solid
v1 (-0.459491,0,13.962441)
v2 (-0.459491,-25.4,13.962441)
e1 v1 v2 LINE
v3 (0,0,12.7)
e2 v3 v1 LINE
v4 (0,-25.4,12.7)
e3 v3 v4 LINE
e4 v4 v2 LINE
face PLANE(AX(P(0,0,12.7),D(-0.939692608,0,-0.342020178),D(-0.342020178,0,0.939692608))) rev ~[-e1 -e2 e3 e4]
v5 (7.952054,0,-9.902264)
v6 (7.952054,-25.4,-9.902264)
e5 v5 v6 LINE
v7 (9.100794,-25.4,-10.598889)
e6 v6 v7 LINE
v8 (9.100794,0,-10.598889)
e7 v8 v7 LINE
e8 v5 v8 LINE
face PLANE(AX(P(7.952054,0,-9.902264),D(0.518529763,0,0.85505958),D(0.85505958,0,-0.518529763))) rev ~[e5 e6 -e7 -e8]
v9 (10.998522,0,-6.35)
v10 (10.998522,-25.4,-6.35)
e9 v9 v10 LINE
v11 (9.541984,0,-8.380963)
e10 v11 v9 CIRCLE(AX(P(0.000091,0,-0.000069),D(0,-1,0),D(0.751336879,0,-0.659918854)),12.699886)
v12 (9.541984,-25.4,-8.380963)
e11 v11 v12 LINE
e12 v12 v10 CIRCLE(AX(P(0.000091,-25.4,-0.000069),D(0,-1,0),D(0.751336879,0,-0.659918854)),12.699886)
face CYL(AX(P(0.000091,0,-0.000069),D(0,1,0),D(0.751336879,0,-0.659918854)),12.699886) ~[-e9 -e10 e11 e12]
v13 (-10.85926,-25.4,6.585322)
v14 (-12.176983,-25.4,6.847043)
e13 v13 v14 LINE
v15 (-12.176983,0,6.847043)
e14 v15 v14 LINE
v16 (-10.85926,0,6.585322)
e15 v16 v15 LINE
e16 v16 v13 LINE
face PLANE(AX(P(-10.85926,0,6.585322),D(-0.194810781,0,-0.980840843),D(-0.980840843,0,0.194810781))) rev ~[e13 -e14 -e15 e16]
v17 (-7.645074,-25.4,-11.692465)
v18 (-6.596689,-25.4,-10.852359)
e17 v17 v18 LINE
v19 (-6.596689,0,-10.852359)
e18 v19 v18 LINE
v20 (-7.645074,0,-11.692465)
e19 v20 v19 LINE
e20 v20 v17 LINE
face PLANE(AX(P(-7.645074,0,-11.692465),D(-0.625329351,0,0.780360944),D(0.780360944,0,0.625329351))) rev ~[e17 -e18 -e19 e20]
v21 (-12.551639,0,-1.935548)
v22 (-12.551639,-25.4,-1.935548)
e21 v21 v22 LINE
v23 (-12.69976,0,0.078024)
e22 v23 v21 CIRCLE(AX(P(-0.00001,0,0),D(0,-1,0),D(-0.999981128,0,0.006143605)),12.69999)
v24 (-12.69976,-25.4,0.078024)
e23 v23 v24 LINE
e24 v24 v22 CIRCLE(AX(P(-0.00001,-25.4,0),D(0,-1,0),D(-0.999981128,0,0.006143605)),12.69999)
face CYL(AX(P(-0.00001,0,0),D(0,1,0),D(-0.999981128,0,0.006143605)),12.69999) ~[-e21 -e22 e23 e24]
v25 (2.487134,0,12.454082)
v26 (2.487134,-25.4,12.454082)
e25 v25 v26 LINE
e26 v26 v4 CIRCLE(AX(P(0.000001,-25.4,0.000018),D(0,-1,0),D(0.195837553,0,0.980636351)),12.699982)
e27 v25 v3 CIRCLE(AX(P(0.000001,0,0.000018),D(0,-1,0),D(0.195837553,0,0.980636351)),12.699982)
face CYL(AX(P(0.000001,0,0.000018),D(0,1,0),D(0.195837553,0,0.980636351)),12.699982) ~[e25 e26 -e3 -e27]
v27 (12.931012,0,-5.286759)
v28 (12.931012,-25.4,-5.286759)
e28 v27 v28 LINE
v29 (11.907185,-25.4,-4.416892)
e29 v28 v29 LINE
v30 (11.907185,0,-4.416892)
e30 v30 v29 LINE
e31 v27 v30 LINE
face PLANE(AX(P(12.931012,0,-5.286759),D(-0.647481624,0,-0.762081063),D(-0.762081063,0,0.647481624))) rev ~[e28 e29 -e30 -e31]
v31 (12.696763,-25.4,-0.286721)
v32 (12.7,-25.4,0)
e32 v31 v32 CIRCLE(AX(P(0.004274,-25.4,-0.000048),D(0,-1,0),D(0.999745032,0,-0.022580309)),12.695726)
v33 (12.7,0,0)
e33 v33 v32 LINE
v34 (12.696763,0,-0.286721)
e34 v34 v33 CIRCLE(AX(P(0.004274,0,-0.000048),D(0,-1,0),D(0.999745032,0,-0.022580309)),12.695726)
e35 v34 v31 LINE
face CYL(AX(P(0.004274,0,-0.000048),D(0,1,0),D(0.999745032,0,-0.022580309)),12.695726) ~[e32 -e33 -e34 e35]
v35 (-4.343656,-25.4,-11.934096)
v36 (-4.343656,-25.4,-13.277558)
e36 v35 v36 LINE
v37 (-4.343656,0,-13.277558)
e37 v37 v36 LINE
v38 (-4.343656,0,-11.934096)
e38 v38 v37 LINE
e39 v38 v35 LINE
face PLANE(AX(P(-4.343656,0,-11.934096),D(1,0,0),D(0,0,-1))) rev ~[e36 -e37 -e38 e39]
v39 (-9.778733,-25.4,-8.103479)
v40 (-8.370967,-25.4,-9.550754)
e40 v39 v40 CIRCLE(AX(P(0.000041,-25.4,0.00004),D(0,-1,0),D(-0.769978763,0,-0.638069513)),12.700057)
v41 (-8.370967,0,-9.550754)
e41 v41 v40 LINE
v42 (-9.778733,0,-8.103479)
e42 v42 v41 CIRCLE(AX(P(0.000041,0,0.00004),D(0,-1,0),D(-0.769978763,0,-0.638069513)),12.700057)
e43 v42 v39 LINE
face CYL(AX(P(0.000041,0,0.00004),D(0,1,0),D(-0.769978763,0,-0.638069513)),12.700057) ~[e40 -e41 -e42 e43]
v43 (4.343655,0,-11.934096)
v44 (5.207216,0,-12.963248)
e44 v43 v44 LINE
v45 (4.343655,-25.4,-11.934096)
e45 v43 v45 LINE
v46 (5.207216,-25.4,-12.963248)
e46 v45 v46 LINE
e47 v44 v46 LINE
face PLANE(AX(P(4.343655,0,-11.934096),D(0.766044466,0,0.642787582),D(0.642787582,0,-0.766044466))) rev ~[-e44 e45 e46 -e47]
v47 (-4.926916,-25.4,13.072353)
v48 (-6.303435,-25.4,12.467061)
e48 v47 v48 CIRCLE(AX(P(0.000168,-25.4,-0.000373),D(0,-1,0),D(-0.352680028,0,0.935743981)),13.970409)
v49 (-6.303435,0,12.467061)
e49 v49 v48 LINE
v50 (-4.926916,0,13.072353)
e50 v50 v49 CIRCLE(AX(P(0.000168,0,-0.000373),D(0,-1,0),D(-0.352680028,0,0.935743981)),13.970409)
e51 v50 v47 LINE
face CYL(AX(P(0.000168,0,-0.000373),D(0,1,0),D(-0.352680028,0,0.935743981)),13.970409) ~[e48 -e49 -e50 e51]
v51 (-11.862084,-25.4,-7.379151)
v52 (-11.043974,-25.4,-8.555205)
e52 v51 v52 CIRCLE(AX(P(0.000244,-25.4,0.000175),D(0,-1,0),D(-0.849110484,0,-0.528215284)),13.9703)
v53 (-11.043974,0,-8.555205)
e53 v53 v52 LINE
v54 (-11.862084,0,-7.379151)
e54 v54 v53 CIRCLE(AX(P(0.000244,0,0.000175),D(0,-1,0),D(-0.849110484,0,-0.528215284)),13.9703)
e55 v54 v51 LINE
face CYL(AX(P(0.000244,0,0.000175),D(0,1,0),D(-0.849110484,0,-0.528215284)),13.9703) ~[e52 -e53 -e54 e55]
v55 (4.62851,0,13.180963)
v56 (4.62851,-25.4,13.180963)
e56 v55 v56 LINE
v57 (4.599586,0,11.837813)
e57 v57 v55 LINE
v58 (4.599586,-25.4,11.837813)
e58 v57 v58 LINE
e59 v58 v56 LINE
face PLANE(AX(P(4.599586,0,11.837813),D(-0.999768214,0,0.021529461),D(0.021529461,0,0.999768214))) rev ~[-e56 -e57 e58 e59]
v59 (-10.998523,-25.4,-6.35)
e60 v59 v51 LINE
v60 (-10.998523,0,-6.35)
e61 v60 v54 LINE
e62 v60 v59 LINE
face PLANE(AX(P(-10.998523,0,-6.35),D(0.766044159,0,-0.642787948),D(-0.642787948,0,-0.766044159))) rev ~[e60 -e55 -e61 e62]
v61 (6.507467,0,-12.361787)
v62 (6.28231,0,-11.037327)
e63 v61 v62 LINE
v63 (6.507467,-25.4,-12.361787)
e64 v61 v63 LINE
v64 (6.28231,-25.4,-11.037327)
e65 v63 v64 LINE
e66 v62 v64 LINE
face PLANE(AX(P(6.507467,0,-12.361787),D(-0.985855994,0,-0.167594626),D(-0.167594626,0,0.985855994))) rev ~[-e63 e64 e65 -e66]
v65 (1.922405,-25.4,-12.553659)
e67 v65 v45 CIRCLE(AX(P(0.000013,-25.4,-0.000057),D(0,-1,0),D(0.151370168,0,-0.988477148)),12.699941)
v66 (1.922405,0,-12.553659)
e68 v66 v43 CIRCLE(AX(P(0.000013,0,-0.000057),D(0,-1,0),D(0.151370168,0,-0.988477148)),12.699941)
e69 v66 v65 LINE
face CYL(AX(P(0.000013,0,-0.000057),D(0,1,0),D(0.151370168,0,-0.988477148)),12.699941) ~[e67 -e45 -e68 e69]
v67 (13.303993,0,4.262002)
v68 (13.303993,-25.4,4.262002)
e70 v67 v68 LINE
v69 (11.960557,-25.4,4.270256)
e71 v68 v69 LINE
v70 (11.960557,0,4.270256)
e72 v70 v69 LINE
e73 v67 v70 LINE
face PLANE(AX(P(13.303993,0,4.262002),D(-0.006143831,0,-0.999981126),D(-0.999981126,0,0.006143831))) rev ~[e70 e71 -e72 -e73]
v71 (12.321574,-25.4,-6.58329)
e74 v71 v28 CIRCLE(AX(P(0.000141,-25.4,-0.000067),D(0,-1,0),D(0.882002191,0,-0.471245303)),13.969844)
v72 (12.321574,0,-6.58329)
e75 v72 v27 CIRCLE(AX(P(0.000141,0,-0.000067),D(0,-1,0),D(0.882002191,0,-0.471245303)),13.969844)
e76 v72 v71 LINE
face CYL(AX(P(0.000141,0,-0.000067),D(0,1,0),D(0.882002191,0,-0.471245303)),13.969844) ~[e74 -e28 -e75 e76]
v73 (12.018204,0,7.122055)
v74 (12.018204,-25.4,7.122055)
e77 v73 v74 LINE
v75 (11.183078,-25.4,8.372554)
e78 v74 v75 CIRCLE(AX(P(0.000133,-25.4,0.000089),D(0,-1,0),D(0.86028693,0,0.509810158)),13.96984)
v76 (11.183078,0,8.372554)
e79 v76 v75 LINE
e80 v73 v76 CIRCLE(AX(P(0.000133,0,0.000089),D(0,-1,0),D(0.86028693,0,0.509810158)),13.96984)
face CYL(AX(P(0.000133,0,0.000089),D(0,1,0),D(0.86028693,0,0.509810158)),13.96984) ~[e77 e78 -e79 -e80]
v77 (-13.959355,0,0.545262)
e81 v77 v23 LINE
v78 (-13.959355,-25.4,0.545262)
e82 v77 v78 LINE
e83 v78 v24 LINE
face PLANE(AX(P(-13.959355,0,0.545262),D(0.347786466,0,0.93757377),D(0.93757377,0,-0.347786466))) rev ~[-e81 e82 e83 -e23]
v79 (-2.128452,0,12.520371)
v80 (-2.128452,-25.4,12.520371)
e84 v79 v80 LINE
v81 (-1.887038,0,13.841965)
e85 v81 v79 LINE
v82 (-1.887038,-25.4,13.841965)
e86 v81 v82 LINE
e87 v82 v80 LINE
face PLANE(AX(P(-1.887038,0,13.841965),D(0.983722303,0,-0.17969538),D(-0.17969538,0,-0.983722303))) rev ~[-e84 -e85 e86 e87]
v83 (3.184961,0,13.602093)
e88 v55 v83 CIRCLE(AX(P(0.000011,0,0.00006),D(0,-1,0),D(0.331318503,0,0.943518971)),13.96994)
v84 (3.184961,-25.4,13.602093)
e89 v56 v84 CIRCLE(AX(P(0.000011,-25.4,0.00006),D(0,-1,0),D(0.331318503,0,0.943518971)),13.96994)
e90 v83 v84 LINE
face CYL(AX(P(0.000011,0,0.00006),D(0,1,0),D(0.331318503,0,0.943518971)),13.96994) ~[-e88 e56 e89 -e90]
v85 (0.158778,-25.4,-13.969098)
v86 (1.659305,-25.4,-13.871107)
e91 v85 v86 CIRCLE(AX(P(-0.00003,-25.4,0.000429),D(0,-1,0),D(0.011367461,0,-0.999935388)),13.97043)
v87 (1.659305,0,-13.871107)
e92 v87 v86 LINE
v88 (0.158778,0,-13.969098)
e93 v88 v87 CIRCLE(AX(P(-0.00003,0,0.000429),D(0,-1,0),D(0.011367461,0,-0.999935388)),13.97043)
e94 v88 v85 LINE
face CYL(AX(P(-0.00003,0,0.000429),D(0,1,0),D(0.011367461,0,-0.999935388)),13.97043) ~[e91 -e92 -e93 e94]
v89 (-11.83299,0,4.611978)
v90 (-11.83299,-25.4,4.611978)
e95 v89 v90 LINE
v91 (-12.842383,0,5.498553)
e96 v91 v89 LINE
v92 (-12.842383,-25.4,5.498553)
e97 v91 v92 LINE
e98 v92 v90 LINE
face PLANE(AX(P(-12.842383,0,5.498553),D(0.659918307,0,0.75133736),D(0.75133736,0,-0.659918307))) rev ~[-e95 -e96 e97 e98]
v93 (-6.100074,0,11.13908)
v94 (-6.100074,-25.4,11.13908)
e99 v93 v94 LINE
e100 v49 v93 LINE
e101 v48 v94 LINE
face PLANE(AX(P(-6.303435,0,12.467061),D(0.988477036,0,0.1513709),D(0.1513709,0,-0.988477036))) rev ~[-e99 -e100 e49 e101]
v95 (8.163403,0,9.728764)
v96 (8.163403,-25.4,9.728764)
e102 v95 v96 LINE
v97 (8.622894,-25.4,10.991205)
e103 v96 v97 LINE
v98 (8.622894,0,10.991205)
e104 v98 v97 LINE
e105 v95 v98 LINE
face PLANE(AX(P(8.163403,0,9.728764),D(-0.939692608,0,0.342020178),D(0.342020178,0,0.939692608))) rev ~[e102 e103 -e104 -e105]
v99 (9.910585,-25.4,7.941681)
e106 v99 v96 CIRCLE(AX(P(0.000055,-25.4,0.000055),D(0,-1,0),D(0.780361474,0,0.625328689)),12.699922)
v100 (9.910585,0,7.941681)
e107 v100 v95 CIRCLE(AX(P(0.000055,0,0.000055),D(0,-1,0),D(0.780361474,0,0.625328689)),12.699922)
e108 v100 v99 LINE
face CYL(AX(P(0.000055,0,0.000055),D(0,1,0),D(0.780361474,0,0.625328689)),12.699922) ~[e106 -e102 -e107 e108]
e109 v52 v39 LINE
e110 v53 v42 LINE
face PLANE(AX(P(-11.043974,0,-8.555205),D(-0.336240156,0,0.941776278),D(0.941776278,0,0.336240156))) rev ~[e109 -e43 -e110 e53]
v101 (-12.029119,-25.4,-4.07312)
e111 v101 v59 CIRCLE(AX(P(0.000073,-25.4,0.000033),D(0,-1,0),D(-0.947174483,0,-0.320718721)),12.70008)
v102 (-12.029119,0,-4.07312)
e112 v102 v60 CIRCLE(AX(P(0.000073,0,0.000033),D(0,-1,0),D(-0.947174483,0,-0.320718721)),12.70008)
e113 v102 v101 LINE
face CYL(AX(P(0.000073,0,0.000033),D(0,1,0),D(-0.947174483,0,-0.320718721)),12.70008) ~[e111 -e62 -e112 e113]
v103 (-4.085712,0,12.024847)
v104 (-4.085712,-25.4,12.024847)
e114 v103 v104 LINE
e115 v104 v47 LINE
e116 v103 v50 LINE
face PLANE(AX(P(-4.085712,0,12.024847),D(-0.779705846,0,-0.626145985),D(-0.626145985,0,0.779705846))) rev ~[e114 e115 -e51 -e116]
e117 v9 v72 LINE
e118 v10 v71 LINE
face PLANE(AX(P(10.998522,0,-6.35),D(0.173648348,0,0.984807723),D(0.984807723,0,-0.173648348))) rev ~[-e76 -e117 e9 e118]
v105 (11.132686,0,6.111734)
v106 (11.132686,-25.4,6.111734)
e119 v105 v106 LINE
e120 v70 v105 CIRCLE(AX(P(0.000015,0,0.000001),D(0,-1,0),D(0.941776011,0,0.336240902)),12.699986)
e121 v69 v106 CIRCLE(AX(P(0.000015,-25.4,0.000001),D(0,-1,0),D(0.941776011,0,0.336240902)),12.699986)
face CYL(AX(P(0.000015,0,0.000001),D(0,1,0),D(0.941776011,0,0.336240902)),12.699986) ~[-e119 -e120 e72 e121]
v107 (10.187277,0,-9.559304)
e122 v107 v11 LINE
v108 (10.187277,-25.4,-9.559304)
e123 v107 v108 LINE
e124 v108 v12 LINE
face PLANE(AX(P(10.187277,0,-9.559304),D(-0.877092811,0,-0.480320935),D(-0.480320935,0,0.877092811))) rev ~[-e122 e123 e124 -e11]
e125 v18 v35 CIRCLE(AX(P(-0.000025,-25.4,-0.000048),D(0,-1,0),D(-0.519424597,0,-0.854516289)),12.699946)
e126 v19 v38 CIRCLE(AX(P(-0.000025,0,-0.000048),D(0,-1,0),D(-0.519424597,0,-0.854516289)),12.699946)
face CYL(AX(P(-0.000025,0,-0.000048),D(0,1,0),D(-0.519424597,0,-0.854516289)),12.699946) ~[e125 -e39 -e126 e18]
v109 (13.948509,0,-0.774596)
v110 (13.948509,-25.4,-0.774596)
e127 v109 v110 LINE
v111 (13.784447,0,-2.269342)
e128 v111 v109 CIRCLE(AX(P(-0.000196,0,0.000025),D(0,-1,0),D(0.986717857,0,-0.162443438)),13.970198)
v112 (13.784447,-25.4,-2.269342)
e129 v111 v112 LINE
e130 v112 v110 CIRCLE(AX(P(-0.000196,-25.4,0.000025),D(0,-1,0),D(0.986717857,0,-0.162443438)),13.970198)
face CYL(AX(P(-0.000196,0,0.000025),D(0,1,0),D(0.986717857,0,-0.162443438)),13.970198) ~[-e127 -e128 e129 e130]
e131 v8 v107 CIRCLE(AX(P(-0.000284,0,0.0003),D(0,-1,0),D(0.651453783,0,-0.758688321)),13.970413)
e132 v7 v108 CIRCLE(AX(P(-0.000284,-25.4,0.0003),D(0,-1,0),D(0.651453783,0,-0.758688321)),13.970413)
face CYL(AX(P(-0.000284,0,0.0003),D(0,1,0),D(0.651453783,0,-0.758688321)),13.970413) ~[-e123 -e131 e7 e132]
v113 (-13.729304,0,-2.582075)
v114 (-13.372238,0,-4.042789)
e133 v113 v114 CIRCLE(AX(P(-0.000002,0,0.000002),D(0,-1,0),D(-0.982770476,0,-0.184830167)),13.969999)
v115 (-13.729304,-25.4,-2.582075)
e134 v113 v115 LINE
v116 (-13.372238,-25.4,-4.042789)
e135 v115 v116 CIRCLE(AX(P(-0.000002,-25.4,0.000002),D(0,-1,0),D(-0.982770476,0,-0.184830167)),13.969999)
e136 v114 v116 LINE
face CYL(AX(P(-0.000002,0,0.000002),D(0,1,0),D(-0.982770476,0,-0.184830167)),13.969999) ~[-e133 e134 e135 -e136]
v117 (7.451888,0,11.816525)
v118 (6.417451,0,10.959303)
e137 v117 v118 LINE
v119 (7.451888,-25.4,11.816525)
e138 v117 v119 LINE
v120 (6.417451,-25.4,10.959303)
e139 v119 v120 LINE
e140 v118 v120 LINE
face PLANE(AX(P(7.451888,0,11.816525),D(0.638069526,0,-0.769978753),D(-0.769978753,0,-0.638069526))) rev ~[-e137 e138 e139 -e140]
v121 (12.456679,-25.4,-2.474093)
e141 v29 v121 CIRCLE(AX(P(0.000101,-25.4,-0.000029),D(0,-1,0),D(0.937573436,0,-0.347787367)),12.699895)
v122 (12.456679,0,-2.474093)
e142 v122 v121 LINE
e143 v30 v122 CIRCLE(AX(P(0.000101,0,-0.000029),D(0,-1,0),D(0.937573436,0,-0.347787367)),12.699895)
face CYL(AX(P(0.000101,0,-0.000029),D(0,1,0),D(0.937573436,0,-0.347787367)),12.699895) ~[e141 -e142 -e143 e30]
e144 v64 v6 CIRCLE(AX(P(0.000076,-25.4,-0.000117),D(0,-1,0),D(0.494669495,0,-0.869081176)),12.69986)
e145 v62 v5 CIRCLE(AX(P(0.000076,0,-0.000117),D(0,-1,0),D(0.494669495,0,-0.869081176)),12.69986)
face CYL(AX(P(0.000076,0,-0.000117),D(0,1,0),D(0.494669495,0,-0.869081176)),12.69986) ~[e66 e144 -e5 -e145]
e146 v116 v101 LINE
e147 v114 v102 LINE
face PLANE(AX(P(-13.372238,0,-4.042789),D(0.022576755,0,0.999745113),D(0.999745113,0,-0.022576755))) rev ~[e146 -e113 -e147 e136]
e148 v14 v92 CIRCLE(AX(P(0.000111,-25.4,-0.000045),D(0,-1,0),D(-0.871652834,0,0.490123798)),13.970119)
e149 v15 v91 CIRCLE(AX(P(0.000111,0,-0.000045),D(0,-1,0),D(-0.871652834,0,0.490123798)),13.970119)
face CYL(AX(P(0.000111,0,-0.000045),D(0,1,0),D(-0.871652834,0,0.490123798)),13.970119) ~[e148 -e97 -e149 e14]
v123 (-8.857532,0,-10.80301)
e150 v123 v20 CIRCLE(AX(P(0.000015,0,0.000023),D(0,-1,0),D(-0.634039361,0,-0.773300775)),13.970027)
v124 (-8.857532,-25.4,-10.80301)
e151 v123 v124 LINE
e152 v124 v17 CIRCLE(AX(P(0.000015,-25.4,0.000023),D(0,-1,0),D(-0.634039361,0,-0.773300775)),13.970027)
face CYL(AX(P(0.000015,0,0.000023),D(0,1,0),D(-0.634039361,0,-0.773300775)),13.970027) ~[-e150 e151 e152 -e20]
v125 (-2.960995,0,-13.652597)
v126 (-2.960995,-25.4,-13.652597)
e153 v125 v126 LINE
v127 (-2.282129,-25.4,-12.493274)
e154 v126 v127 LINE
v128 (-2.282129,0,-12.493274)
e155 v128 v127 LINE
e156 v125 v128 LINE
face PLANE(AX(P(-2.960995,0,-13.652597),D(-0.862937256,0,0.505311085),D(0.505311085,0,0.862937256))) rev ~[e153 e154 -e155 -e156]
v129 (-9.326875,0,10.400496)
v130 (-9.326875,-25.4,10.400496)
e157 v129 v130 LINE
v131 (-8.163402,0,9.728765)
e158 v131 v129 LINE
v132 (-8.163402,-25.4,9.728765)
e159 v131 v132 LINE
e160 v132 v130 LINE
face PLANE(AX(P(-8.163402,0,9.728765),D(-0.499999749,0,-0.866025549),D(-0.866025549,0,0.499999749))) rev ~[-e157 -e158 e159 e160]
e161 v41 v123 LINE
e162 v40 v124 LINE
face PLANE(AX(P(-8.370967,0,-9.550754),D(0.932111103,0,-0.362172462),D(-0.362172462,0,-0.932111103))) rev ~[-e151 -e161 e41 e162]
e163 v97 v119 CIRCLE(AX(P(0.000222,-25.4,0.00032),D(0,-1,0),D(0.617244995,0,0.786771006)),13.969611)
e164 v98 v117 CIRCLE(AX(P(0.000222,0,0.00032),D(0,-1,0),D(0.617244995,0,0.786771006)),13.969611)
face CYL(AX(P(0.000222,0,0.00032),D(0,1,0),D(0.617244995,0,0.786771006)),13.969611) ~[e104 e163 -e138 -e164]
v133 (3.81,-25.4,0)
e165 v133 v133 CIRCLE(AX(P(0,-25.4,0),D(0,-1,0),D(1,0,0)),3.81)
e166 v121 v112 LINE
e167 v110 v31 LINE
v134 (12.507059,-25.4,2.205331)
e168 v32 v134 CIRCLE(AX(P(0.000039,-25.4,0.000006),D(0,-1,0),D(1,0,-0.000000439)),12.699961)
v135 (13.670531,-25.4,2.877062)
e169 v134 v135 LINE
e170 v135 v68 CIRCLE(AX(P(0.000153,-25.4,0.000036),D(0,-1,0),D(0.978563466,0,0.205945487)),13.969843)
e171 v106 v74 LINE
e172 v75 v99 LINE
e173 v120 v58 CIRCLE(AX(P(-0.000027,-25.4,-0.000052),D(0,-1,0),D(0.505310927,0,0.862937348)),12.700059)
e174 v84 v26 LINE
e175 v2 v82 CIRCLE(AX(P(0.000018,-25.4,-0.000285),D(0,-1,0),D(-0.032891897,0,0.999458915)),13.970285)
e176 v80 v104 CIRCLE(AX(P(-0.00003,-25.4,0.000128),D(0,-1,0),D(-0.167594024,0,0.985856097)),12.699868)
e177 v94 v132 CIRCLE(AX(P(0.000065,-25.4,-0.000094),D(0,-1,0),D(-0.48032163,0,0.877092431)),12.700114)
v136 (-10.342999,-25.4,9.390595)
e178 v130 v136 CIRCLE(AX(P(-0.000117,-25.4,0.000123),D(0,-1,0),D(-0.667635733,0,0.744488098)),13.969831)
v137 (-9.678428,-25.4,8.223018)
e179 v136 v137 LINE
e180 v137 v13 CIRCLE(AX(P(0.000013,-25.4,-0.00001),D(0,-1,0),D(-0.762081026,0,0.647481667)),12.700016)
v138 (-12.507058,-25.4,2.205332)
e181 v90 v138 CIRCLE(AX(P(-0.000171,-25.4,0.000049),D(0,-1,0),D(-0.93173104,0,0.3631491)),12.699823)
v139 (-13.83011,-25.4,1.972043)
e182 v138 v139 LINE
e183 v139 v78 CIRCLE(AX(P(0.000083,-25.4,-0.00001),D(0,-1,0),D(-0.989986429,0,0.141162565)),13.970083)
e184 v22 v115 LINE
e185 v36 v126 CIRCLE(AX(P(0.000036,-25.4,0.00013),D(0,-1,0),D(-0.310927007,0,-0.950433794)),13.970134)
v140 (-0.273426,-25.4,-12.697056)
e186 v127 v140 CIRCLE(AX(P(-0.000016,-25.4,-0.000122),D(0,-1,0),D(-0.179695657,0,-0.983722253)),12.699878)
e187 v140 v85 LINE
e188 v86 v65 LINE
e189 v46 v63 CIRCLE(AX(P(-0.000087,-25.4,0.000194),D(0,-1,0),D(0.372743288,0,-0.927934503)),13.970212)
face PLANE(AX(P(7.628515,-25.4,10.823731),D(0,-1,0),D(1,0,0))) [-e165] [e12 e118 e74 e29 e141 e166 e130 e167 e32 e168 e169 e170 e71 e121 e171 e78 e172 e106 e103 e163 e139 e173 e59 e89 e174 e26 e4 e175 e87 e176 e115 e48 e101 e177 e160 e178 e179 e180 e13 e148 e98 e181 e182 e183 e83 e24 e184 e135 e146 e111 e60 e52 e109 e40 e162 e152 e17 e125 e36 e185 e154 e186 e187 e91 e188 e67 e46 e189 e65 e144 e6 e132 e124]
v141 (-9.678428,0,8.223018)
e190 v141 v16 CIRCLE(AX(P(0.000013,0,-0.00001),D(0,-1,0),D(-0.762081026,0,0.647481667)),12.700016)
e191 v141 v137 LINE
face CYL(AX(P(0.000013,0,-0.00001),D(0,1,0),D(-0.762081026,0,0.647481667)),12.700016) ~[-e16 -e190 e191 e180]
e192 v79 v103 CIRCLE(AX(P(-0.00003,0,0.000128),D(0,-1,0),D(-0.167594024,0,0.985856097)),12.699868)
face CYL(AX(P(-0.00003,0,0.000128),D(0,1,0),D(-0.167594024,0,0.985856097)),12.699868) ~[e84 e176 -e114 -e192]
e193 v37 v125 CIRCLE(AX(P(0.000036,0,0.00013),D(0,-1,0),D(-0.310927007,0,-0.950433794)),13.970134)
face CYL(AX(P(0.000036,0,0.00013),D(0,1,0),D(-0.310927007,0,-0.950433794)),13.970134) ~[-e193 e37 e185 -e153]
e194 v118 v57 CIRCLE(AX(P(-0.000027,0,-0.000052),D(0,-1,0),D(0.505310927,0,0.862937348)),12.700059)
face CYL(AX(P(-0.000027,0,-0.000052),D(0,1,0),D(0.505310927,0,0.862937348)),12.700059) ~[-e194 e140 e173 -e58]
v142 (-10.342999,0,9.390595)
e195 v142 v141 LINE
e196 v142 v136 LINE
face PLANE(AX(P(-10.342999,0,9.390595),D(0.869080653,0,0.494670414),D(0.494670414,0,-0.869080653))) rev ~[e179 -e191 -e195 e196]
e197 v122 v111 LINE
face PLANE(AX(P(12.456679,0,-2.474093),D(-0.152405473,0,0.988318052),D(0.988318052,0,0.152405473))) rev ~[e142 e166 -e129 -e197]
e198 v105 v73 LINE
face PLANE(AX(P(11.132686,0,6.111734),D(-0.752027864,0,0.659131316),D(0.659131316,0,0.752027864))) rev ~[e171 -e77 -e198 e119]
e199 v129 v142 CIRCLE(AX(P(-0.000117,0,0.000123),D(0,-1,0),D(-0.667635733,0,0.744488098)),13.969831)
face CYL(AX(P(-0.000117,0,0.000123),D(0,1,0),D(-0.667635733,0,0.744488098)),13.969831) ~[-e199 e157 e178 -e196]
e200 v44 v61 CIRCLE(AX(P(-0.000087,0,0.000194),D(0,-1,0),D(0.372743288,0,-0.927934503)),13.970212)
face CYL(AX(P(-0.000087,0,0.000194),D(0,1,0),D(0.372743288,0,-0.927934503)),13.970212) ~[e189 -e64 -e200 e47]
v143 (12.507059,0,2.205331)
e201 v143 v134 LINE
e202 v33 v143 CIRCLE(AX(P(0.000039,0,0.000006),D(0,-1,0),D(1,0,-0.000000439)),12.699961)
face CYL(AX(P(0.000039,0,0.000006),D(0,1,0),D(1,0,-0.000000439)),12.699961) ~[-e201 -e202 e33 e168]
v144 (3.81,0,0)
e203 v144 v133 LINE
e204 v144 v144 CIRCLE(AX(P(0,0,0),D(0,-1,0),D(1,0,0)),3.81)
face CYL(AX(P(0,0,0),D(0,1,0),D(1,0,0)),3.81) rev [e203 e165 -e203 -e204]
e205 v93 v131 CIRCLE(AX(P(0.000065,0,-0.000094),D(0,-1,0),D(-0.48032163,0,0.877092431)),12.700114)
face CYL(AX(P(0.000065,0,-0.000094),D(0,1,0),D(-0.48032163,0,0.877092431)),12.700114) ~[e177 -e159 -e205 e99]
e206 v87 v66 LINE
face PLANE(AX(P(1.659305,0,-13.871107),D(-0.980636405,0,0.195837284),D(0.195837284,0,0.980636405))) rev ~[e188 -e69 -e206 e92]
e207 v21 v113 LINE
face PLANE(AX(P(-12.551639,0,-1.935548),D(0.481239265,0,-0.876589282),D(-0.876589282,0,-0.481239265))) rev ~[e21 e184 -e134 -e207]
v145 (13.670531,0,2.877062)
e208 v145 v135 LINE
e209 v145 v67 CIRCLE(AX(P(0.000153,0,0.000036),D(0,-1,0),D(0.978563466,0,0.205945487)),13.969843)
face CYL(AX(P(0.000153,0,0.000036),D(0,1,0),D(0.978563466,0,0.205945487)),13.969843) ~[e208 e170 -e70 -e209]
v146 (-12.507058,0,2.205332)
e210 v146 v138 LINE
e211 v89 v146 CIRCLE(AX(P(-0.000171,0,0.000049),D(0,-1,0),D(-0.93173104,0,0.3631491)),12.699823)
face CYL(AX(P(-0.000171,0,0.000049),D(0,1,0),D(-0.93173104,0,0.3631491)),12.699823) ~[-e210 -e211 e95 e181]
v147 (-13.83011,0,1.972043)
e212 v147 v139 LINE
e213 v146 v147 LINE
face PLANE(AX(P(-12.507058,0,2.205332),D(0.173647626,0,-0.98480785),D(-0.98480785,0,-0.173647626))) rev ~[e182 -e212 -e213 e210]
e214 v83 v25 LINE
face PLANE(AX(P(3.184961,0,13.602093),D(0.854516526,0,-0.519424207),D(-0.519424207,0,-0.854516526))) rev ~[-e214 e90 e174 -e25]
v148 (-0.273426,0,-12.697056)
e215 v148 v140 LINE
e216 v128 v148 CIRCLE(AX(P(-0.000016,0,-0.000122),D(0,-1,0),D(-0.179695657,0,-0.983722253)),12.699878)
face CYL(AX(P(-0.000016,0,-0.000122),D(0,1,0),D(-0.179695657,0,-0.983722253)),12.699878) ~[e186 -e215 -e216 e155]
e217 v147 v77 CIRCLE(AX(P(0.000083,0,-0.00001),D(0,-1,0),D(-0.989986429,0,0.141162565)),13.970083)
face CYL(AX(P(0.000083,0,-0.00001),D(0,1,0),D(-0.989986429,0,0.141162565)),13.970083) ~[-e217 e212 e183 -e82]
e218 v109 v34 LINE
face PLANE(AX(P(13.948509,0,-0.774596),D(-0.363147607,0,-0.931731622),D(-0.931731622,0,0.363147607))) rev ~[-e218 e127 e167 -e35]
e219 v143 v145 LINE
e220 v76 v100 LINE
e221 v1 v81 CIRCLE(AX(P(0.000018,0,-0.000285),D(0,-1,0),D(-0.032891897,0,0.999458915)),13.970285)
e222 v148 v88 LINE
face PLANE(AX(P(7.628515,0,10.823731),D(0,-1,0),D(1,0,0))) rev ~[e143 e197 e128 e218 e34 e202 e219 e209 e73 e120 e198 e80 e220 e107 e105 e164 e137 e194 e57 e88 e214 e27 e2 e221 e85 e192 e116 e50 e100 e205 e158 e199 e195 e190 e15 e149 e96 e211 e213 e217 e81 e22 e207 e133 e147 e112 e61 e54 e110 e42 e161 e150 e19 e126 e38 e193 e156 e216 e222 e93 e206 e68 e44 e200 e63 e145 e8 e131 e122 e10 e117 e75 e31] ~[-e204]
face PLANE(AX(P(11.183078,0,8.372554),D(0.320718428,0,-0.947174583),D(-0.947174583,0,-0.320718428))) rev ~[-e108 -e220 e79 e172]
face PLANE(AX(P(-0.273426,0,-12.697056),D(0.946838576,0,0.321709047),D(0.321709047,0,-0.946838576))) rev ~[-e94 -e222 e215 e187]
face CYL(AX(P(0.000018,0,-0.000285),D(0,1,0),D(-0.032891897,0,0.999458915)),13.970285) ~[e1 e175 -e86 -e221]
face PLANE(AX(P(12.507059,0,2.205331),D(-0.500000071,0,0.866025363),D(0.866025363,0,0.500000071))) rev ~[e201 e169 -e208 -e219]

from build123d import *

# Parameters (mm, degrees)
F0_R     = 3.81
F1_DEPTH = 25.4


with BuildPart() as f1:
    # F0 (on Front) → F1 (new body)
    with BuildSketch(Plane.XZ):
        with BuildLine():
            Line((8.163403, 9.728764), (8.622894, 10.991205))
            ThreePointArc((8.622894, 10.991205), (8.047978, 11.418886), (7.451888, 11.816525))
            Line((7.451888, 11.816525), (6.417451, 10.959303))
            ThreePointArc((6.417451, 10.959303), (7.316343, 10.380805), (8.163403, 9.728764))
        make_face()
        with BuildLine():
            ThreePointArc((9.910585, 7.941681), (9.081062, 8.878306), (8.163403, 9.728764))
            ThreePointArc((8.163403, 9.728764), (7.316343, 10.380805), (6.417451, 10.959303))
            ThreePointArc((6.417451, 10.959303), (5.526004, 11.43474), (4.599586, 11.837813))
            ThreePointArc((4.599586, 11.837813), (3.556733, 12.191786), (2.487134, 12.454082))
            ThreePointArc((2.487134, 12.454082), (1.249631, 12.638371), (0, 12.7))
            ThreePointArc((0, 12.7), (-1.068009, 12.655013), (-2.128452, 12.520371))
            ThreePointArc((-2.128452, 12.520371), (-3.116945, 12.311566), (-4.085712, 12.024847))
            ThreePointArc((-4.085712, 12.024847), (-5.112114, 11.625674), (-6.100074, 11.13908))
            ThreePointArc((-6.100074, 11.13908), (-7.166515, 10.484801), (-8.163402, 9.728765))
            ThreePointArc((-8.163402, 9.728765), (-8.952628, 9.0078), (-9.678428, 8.223018))
            ThreePointArc((-9.678428, 8.223018), (-10.30144, 7.427673), (-10.85926, 6.585322))
            ThreePointArc((-10.85926, 6.585322), (-11.388945, 5.619779), (-11.83299, 4.611978))
            ThreePointArc((-11.83299, 4.611978), (-12.22937, 3.425277), (-12.507058, 2.205332))
            ThreePointArc((-12.507058, 2.205332), (-12.648213, 1.145737), (-12.69976, 0.078024))
            ThreePointArc((-12.69976, 0.078024), (-12.665777, -0.93171), (-12.551639, -1.935548))
            ThreePointArc((-12.551639, -1.935548), (-12.336763, -3.015672), (-12.029119, -4.07312))
            ThreePointArc((-12.029119, -4.07312), (-11.569966, -5.236973), (-10.998523, -6.35))
            ThreePointArc((-10.998523, -6.35), (-10.425558, -7.252429), (-9.778733, -8.103479))
            ThreePointArc((-9.778733, -8.103479), (-9.103656, -8.855136), (-8.370967, -9.550754))
            ThreePointArc((-8.370967, -9.550754), (-7.512072, -10.240057), (-6.596689, -10.852359))
            ThreePointArc((-6.596689, -10.852359), (-5.496847, -11.448785), (-4.343656, -11.934096))
            ThreePointArc((-4.343656, -11.934096), (-3.324669, -12.257103), (-2.282129, -12.493274))
            ThreePointArc((-2.282129, -12.493274), (-1.281833, -12.635146), (-0.273426, -12.697056))
            ThreePointArc((-0.273426, -12.697056), (0.827601, -12.673006), (1.922405, -12.553659))
            ThreePointArc((1.922405, -12.553659), (3.148308, -12.303583), (4.343655, -11.934096))
            ThreePointArc((4.343655, -11.934096), (5.331869, -11.526542), (6.28231, -11.037327))
            ThreePointArc((6.28231, -11.037327), (7.139774, -10.50303), (7.952054, -9.902264))
            ThreePointArc((7.952054, -9.902264), (8.78003, -9.176114), (9.541984, -8.380963))
            ThreePointArc((9.541984, -8.380963), (10.320335, -7.401398), (10.998522, -6.35))
            ThreePointArc((10.998522, -6.35), (11.493567, -5.402584), (11.907185, -4.416892))
            ThreePointArc((11.907185, -4.416892), (12.220601, -3.45643), (12.456679, -2.474093))
            ThreePointArc((12.456679, -2.474093), (12.624186, -1.385616), (12.696763, -0.286721))
            ThreePointArc((12.696763, -0.286721), (12.699191, -0.143369), (12.7, 0))
            ThreePointArc((12.7, 0), (12.651673, 1.106878), (12.507059, 2.205331))
            ThreePointArc((12.507059, 2.205331), (12.277297, 3.249303), (11.960557, 4.270256))
            ThreePointArc((11.960557, 4.270256), (11.583274, 5.207472), (11.132686, 6.111734))
            ThreePointArc((11.132686, 6.111734), (10.561344, 7.053226), (9.910585, 7.941681))
        make_face()
        Circle(F0_R, mode=Mode.SUBTRACT)
        with BuildLine():
            Line((11.183078, 8.372554), (9.910585, 7.941681))
            ThreePointArc((9.910585, 7.941681), (10.561344, 7.053226), (11.132686, 6.111734))
            Line((11.132686, 6.111734), (12.018204, 7.122055))
            ThreePointArc((12.018204, 7.122055), (11.617479, 7.758549), (11.183078, 8.372554))
        make_face()
        with BuildLine():
            ThreePointArc((2.487134, 12.454082), (3.556733, 12.191786), (4.599586, 11.837813))
            Line((4.599586, 11.837813), (4.62851, 13.180963))
            ThreePointArc((4.62851, 13.180963), (3.912406, 13.410965), (3.184961, 13.602093))
            Line((3.184961, 13.602093), (2.487134, 12.454082))
        make_face()
        with BuildLine():
            Line((13.303993, 4.262002), (11.960557, 4.270256))
            ThreePointArc((11.960557, 4.270256), (12.277297, 3.249303), (12.507059, 2.205331))
            Line((12.507059, 2.205331), (13.670531, 2.877062))
            ThreePointArc((13.670531, 2.877062), (13.505027, 3.574234), (13.303993, 4.262002))
        make_face()
        with BuildLine():
            ThreePointArc((-2.128452, 12.520371), (-1.068009, 12.655013), (0, 12.7))
            Line((0, 12.7), (-0.459491, 13.962441))
            ThreePointArc((-0.459491, 13.962441), (-1.17481, 13.920514), (-1.887038, 13.841965))
            Line((-1.887038, 13.841965), (-2.128452, 12.520371))
        make_face()
        with BuildLine():
            ThreePointArc((-6.100074, 11.13908), (-5.112114, 11.625674), (-4.085712, 12.024847))
            Line((-4.085712, 12.024847), (-4.926916, 13.072353))
            ThreePointArc((-4.926916, 13.072353), (-5.623325, 12.788241), (-6.303435, 12.467061))
            Line((-6.303435, 12.467061), (-6.100074, 11.13908))
        make_face()
        with BuildLine():
            Line((13.948509, -0.774596), (12.696763, -0.286721))
            ThreePointArc((12.696763, -0.286721), (12.624186, -1.385616), (12.456679, -2.474093))
            Line((12.456679, -2.474093), (13.784447, -2.269342))
            ThreePointArc((13.784447, -2.269342), (13.886604, -1.524178), (13.948509, -0.774596))
        make_face()
        with BuildLine():
            ThreePointArc((-9.678428, 8.223018), (-8.952628, 9.0078), (-8.163402, 9.728765))
            Line((-8.163402, 9.728765), (-9.326875, 10.400496))
            ThreePointArc((-9.326875, 10.400496), (-9.847891, 9.90858), (-10.342999, 9.390595))
            Line((-10.342999, 9.390595), (-9.678428, 8.223018))
        make_face()
        with BuildLine():
            Line((12.931012, -5.286759), (11.907185, -4.416892))
            ThreePointArc((11.907185, -4.416892), (11.493567, -5.402584), (10.998522, -6.35))
            Line((10.998522, -6.35), (12.321574, -6.58329))
            ThreePointArc((12.321574, -6.58329), (12.642924, -5.942842), (12.931012, -5.286759))
        make_face()
        with BuildLine():
            ThreePointArc((-11.83299, 4.611978), (-11.388945, 5.619779), (-10.85926, 6.585322))
            Line((-10.85926, 6.585322), (-12.176983, 6.847043))
            ThreePointArc((-12.176983, 6.847043), (-12.52784, 6.181757), (-12.842383, 5.498553))
            Line((-12.842383, 5.498553), (-11.83299, 4.611978))
        make_face()
        with BuildLine():
            Line((10.187277, -9.559304), (9.541984, -8.380963))
            ThreePointArc((9.541984, -8.380963), (8.78003, -9.176114), (7.952054, -9.902264))
            Line((7.952054, -9.902264), (9.100794, -10.598889))
            ThreePointArc((9.100794, -10.598889), (9.658033, -10.093725), (10.187277, -9.559304))
        make_face()
        with BuildLine():
            ThreePointArc((-12.69976, 0.078024), (-12.648213, 1.145737), (-12.507058, 2.205332))
            Line((-12.507058, 2.205332), (-13.83011, 1.972043))
            ThreePointArc((-13.83011, 1.972043), (-13.913034, 1.26031), (-13.959355, 0.545262))
            Line((-13.959355, 0.545262), (-12.69976, 0.078024))
        make_face()
        with BuildLine():
            Line((6.507467, -12.361787), (6.28231, -11.037327))
            ThreePointArc((6.28231, -11.037327), (5.331869, -11.526542), (4.343655, -11.934096))
            Line((4.343655, -11.934096), (5.207216, -12.963248))
            ThreePointArc((5.207216, -12.963248), (5.865056, -12.679196), (6.507467, -12.361787))
        make_face()
        with BuildLine():
            ThreePointArc((-12.029119, -4.07312), (-12.336763, -3.015672), (-12.551639, -1.935548))
            Line((-12.551639, -1.935548), (-13.729304, -2.582075))
            ThreePointArc((-13.729304, -2.582075), (-13.570439, -3.31724), (-13.372238, -4.042789))
            Line((-13.372238, -4.042789), (-12.029119, -4.07312))
        make_face()
        with BuildLine():
            Line((1.659305, -13.871107), (1.922405, -12.553659))
            ThreePointArc((1.922405, -12.553659), (0.827601, -12.673006), (-0.273426, -12.697056))
            Line((-0.273426, -12.697056), (0.158778, -13.969098))
            ThreePointArc((0.158778, -13.969098), (0.910361, -13.940306), (1.659305, -13.871107))
        make_face()
        with BuildLine():
            ThreePointArc((-9.778733, -8.103479), (-10.425558, -7.252429), (-10.998523, -6.35))
            Line((-10.998523, -6.35), (-11.862084, -7.379151))
            ThreePointArc((-11.862084, -7.379151), (-11.468114, -7.977672), (-11.043974, -8.555205))
            Line((-11.043974, -8.555205), (-9.778733, -8.103479))
        make_face()
        with BuildLine():
            Line((-2.960995, -13.652597), (-2.282129, -12.493274))
            ThreePointArc((-2.282129, -12.493274), (-3.324669, -12.257103), (-4.343656, -11.934096))
            Line((-4.343656, -11.934096), (-4.343656, -13.277558))
            ThreePointArc((-4.343656, -13.277558), (-3.657136, -13.482813), (-2.960995, -13.652597))
        make_face()
        with BuildLine():
            ThreePointArc((-6.596689, -10.852359), (-7.512072, -10.240057), (-8.370967, -9.550754))
            Line((-8.370967, -9.550754), (-8.857532, -10.80301))
            ThreePointArc((-8.857532, -10.80301), (-8.263279, -11.264063), (-7.645074, -11.692465))
            Line((-7.645074, -11.692465), (-6.596689, -10.852359))
        make_face()
    extrude(amount=F1_DEPTH)


solid = f1.part
